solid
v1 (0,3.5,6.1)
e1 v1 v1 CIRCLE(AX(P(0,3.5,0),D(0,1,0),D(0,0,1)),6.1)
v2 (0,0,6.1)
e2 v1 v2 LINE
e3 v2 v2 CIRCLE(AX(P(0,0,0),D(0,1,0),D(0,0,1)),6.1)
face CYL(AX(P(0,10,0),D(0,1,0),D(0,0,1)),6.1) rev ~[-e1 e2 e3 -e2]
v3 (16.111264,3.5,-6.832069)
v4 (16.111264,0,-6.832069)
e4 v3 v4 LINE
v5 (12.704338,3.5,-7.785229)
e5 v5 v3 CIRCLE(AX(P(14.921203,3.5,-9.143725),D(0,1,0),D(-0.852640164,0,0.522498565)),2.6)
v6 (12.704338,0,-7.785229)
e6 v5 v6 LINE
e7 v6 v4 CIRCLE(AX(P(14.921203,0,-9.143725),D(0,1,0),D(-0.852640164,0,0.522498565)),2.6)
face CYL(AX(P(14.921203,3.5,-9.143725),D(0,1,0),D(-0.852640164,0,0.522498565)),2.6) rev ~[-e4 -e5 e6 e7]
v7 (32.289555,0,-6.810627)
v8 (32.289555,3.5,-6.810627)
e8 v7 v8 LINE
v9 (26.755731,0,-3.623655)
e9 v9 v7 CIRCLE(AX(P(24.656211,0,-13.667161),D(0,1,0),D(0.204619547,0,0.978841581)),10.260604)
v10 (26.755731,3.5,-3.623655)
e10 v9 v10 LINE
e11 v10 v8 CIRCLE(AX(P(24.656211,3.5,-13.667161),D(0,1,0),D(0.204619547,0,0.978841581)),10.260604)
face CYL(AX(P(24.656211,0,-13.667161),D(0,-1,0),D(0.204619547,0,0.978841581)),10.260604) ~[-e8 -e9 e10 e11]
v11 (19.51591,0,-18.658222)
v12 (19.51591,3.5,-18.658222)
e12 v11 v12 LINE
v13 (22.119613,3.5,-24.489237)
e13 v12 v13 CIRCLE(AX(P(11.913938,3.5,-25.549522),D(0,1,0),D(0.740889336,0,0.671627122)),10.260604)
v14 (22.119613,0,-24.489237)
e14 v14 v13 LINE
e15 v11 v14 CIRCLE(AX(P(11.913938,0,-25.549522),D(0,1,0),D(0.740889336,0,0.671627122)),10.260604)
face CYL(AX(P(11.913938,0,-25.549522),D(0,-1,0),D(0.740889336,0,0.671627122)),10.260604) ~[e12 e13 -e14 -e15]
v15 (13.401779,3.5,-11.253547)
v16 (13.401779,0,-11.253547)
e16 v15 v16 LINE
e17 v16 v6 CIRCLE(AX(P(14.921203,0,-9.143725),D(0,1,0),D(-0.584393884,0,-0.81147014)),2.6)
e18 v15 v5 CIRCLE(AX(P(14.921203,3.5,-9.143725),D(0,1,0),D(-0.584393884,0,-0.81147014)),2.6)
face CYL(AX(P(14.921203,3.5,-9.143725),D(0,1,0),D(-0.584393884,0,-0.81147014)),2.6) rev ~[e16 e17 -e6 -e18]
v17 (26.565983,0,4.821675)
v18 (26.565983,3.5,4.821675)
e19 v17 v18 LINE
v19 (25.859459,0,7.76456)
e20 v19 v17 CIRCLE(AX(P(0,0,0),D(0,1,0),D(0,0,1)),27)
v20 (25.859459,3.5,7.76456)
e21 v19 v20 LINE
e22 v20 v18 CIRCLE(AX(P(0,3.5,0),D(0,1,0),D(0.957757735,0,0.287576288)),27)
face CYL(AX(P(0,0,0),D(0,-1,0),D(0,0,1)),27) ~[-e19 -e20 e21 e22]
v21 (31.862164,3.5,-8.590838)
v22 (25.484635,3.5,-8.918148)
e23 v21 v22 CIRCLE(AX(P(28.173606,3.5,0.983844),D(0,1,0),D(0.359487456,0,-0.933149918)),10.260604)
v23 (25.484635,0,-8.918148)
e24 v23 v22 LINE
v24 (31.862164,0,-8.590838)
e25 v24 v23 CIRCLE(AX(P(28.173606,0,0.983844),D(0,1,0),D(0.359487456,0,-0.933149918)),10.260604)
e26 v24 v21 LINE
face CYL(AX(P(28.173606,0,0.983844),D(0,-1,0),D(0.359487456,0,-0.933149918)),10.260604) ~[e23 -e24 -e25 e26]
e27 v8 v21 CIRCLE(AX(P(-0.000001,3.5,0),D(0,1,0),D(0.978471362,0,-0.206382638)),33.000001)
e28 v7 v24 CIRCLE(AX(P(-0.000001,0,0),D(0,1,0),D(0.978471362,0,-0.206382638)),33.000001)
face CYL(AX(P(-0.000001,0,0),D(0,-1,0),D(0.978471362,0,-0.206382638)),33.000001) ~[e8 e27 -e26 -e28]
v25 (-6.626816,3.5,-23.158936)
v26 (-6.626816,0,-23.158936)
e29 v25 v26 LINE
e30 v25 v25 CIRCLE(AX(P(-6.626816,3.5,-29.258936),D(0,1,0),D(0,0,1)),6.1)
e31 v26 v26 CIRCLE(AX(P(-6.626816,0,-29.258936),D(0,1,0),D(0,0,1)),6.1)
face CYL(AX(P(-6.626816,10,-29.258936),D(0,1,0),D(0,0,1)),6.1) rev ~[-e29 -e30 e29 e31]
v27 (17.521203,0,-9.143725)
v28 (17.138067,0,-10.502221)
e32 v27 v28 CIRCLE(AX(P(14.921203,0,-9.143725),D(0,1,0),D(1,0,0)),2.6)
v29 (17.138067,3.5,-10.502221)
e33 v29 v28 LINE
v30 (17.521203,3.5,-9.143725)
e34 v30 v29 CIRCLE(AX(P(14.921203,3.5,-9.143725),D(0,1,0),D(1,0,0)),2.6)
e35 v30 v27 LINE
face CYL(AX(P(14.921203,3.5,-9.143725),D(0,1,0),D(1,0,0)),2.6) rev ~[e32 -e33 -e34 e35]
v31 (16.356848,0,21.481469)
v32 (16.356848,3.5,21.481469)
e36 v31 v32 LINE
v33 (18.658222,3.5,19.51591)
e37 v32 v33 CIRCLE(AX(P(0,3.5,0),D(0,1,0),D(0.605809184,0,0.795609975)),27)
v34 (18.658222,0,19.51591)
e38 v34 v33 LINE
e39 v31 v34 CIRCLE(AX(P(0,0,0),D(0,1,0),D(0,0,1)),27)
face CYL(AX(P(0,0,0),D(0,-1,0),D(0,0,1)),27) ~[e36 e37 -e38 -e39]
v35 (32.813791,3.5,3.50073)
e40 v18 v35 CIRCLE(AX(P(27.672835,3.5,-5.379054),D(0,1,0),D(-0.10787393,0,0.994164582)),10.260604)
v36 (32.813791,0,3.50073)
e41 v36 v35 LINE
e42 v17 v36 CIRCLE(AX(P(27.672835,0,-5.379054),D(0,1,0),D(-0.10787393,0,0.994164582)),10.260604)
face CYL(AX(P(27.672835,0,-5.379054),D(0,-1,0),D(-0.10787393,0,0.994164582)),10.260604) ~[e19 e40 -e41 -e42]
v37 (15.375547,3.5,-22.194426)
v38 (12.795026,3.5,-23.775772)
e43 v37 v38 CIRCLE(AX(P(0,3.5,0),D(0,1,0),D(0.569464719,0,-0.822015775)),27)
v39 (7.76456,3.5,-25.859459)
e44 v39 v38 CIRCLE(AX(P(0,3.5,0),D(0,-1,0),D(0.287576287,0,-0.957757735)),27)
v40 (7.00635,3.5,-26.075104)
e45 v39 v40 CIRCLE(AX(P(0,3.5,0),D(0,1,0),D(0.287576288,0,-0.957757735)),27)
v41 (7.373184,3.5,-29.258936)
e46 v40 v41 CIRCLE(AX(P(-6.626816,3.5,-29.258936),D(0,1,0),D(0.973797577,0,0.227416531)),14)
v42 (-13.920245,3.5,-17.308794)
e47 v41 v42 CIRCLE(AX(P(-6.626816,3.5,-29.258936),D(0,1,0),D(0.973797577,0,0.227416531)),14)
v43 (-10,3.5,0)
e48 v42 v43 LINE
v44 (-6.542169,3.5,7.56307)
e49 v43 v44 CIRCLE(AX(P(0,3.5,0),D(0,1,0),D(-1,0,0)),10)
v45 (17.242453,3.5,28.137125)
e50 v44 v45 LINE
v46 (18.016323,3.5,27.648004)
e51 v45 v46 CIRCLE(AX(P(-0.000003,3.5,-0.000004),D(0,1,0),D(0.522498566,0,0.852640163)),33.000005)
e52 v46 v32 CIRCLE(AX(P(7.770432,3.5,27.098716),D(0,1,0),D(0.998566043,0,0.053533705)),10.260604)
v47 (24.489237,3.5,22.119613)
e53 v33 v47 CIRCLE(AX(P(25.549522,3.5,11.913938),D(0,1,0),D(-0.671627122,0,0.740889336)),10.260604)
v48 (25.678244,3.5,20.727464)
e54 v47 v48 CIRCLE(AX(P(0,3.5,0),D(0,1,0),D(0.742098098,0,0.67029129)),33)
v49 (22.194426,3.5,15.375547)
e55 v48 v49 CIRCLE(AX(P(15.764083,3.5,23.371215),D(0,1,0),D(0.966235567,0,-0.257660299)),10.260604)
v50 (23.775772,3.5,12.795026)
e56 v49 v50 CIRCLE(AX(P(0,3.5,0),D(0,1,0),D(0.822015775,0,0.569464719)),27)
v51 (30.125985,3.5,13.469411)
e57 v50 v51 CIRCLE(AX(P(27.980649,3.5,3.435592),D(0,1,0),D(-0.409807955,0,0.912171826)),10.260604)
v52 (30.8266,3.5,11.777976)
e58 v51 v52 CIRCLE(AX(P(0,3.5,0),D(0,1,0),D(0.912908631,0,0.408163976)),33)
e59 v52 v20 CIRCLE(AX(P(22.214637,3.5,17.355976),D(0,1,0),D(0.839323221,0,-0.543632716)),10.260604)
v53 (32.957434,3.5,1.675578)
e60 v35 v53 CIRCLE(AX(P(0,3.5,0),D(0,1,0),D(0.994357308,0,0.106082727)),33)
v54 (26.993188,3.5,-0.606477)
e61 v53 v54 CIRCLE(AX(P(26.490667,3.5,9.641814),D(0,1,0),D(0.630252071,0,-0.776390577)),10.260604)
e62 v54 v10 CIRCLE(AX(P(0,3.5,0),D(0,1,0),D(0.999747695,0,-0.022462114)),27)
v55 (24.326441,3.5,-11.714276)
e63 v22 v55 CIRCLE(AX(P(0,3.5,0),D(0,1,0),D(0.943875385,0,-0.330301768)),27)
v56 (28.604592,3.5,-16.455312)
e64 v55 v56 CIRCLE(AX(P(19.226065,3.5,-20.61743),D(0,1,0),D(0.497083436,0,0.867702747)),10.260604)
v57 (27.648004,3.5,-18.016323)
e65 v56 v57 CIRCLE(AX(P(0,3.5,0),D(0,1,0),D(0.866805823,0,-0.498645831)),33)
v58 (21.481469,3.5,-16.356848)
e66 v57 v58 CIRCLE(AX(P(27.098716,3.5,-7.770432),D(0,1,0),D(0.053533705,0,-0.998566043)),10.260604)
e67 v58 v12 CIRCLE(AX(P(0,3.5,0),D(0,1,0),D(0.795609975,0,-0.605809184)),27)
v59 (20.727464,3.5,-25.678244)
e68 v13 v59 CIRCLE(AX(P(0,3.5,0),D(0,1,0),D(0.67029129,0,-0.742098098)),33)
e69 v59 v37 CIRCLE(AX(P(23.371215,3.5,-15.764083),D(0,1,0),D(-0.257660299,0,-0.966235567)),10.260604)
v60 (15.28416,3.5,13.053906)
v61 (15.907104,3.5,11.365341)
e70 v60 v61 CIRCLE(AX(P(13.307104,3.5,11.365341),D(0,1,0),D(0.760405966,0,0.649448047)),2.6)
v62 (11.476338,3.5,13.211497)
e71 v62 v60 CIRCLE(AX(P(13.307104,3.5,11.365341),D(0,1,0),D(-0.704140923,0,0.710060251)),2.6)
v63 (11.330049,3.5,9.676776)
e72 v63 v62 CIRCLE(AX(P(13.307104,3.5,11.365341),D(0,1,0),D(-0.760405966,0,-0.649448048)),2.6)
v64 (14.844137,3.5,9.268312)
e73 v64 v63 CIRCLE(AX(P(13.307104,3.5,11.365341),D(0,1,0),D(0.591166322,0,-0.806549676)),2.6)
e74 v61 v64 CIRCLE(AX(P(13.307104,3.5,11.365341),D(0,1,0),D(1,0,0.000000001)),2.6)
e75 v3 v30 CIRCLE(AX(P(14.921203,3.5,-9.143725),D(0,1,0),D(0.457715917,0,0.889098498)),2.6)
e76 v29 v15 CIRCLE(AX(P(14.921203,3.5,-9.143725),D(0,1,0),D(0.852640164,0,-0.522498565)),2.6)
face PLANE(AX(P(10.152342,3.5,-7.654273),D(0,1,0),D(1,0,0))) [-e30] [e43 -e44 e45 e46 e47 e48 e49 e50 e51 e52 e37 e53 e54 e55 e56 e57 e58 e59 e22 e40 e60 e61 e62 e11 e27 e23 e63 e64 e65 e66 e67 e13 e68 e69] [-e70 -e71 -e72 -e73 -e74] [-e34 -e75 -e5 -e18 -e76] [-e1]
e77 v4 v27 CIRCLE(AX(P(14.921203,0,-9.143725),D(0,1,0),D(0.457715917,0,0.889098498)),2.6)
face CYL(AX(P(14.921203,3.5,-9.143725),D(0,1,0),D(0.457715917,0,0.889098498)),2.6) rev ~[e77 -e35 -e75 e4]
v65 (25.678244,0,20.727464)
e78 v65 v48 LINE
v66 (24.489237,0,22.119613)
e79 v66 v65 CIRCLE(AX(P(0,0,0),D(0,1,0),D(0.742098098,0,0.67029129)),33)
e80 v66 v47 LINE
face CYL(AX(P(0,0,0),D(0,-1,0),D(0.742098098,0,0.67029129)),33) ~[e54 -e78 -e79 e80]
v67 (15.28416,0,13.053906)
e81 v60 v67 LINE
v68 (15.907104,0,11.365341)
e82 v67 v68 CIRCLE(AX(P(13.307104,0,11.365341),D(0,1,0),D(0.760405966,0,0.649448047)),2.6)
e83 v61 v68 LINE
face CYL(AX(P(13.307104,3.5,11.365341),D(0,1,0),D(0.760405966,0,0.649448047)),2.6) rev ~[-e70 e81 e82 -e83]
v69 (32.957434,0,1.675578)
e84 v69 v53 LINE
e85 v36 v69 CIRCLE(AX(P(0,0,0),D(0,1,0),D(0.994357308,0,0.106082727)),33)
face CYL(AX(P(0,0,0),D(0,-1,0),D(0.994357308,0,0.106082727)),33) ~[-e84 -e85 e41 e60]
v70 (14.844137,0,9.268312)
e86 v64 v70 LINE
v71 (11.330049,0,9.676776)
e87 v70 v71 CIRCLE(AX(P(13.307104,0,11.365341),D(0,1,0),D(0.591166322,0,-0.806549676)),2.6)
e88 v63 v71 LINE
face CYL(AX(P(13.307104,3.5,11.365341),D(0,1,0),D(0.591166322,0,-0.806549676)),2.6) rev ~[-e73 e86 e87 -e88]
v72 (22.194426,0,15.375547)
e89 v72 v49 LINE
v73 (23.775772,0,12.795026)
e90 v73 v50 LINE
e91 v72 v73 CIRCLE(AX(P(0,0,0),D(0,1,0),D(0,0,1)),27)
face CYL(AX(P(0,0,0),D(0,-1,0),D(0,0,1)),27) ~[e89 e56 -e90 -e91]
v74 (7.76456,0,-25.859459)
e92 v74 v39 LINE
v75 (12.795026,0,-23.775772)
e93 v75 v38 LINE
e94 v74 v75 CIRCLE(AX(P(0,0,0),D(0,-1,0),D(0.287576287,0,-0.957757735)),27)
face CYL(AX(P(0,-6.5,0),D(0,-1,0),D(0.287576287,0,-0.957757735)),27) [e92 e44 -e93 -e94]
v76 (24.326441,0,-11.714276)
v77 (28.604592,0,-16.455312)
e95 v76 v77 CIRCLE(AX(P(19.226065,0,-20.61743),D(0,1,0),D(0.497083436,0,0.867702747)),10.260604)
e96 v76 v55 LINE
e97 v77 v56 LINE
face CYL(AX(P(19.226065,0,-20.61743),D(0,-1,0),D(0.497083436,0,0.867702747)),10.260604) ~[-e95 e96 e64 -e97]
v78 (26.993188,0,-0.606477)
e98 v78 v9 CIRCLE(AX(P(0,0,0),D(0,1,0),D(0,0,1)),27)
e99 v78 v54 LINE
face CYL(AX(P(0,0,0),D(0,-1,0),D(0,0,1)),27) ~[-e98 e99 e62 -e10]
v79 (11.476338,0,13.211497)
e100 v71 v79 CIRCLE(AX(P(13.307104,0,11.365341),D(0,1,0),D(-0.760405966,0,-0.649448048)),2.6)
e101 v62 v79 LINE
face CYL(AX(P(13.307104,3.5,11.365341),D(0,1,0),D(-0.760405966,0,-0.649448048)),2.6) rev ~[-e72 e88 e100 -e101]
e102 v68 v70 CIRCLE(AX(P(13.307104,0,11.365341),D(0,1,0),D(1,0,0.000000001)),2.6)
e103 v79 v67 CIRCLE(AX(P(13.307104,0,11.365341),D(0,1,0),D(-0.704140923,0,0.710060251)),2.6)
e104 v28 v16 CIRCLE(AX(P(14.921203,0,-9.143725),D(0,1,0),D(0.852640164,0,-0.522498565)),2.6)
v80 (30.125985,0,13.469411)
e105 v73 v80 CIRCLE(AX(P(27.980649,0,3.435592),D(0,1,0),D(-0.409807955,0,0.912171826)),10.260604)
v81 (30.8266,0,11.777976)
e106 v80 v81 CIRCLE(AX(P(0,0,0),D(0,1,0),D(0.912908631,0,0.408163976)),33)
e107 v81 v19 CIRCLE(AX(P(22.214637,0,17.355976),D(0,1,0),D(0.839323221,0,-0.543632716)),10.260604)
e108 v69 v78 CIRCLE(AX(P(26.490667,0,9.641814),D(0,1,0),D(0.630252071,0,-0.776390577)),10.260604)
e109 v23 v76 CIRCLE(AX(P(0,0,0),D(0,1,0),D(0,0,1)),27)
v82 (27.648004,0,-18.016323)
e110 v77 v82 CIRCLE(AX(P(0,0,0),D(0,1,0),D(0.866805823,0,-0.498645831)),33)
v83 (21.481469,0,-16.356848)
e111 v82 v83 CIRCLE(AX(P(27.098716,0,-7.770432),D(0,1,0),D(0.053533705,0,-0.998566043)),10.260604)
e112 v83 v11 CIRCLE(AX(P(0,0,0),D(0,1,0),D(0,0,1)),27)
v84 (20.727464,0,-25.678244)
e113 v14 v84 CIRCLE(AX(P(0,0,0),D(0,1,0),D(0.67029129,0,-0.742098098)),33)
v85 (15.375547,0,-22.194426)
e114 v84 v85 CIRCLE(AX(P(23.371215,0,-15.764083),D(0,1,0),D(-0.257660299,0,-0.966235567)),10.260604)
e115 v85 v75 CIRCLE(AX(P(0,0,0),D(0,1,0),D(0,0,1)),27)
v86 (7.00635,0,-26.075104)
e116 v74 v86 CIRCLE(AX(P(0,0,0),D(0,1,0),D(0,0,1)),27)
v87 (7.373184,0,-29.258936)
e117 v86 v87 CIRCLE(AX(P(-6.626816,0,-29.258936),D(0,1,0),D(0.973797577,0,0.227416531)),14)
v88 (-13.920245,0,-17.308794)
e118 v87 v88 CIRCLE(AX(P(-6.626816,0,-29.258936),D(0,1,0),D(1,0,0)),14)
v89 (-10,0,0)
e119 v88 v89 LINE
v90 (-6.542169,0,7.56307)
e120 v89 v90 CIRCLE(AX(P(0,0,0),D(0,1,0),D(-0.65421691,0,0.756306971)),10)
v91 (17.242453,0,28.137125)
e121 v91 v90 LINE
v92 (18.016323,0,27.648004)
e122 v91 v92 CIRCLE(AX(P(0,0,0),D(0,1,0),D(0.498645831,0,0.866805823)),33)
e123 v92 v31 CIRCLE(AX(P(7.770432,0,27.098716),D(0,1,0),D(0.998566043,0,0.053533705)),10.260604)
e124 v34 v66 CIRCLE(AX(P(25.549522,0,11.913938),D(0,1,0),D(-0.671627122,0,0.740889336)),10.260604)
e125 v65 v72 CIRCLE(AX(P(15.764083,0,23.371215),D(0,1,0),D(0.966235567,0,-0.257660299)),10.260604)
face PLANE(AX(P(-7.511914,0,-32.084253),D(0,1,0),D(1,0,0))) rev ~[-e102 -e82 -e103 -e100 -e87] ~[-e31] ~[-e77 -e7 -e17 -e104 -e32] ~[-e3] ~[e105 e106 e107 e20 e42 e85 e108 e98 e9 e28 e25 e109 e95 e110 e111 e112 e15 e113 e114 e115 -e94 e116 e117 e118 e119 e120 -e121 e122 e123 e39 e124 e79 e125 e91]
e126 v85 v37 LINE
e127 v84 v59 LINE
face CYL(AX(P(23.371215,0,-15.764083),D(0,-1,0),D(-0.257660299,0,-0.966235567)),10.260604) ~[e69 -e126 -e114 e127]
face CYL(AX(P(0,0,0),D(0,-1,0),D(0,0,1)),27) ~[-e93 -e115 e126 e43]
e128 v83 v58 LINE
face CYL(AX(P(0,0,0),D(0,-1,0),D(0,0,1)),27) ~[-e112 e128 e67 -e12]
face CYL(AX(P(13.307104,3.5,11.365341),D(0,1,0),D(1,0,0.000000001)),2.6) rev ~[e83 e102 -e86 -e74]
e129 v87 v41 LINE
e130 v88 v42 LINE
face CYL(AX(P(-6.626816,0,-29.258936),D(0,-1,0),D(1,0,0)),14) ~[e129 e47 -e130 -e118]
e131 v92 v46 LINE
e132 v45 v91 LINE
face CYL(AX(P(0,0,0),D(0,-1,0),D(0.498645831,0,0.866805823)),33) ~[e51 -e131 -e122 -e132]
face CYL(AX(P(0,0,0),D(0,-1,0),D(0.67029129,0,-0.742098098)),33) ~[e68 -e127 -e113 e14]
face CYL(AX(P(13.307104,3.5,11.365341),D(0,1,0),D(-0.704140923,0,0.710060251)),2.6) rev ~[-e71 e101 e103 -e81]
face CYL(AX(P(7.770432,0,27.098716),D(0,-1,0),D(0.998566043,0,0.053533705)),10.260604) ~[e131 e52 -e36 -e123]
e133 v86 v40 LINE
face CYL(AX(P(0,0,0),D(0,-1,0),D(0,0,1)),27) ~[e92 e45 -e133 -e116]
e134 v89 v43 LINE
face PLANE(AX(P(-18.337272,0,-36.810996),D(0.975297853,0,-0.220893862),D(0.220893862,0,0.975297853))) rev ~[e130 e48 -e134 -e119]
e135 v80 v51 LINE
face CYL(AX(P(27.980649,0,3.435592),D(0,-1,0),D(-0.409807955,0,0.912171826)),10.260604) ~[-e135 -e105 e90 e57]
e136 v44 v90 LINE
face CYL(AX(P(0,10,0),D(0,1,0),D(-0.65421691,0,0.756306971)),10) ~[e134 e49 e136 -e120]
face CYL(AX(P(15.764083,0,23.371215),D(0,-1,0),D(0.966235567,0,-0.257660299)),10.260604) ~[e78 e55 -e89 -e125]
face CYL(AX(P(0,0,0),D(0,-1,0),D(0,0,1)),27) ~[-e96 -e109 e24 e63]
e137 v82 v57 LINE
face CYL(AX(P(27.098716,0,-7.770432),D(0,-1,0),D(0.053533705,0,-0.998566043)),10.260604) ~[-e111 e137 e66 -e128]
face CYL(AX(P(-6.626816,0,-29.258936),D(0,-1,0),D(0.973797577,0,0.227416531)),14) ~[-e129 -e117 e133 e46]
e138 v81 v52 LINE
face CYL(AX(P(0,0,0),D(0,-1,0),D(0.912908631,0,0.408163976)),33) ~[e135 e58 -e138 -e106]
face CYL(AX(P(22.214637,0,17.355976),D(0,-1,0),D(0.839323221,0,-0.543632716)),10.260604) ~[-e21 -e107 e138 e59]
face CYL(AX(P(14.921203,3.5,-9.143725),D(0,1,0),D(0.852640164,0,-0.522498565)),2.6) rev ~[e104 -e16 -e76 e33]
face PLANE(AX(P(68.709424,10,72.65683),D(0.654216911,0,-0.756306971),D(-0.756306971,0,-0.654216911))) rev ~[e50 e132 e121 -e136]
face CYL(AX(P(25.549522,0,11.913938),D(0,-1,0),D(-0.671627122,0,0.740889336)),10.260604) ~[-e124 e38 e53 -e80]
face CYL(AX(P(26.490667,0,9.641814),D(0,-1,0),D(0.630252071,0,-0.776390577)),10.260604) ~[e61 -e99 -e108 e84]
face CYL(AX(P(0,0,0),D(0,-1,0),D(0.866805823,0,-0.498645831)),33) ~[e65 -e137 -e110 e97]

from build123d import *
from build123d.topology import SkipClean

# Parameters (mm, degrees)
SKETCH_1_R           = 27
EXTRUDE_2_DEPTH      = 10
EXTRUDE_START        = -10
EXTRUDE_3_DEPTH      = 10
CUT_EXTRUDE_2_DEPTH  = 48.669538272
SKETCH_6_R           = 6.1
CUT_EXTRUDE_3_DEPTH  = 10
EXTRUDE_5_DEPTH      = 10
SKETCH_10_R          = 6.1
CUT_EXTRUDE_5_DEPTH  = 10
CUT_EXTRUDE_START    = -10
CUT_EXTRUDE_6_DEPTH  = 10
FILLET_1_R           = 10
EXTRUDE_7_DEPTH      = 10
CUT_EXTRUDE_START_2  = -6.5
CUT_EXTRUDE_8_DEPTH  = 6.5
CUT_EXTRUDE_9_DEPTH  = 10
CUT_EXTRUDE_10_DEPTH = 10


with BuildPart() as part:
    # 草图1 → 凸台-拉伸2 (new body)
    with BuildSketch(Plane(origin=(0, 0, 0), x_dir=(1, 0, 0), z_dir=(0, 1, 0))):
        with Locations(Location((0, 0, 0), (0, 0, 270))):
            Circle(SKETCH_1_R)
    extrude(amount=EXTRUDE_2_DEPTH)

    # 草图3 → 凸台-拉伸3 (add)
    with BuildSketch(Plane(origin=(0, 10, 0), x_dir=(1, 0, 0), z_dir=(0, 1, 0)).offset(EXTRUDE_START)):
        with BuildLine():
            ThreePointArc((-3.623654542, 26.755730746), (-4.775668185, 29.776890365), (-6.810627033, 32.289554959))
            ThreePointArc((-6.810627033, 32.289554959), (-7.703697007, 32.088207373), (-8.590838072, 31.862164101))
            ThreePointArc((-8.590838072, 31.862164101), (-9.263273827, 28.699511571), (-8.918147734, 25.484635391))
            ThreePointArc((-8.918147734, 25.484635391), (-6.303024824, 26.253987851), (-3.623654542, 26.755730746))
        make_face()
        with BuildLine():
            ThreePointArc((-11.714275763, 24.326441239), (-13.743495509, 26.843742988), (-16.455312443, 28.604592156))
            ThreePointArc((-16.455312443, 28.604592156), (-17.242452636, 28.137125424), (-18.016322714, 27.648003832))
            ThreePointArc((-18.016322714, 27.648003832), (-17.678533741, 24.432348458), (-16.356847947, 21.481469346))
            ThreePointArc((-16.356847947, 21.481469346), (-14.107461247, 23.021284438), (-11.714275763, 24.326441239))
        make_face()
        with BuildLine():
            ThreePointArc((-18.658222053, 19.515910171), (-21.366013737, 21.282943016), (-24.48923722, 22.119612574))
            ThreePointArc((-24.48923722, 22.119612574), (-25.093396865, 21.431785595), (-25.678244161, 20.727464312))
            ThreePointArc((-25.678244161, 20.727464312), (-24.363295599, 17.773576848), (-22.194425918, 15.375547411))
            ThreePointArc((-22.194425918, 15.375547411), (-20.530961071, 17.535097305), (-18.658222053, 19.515910171))
        make_face()
        with BuildLine():
            ThreePointArc((-23.77577157, 12.79502584), (-26.897077674, 13.638820294), (-30.125984831, 13.469411196))
            ThreePointArc((-30.125984831, 13.469411196), (-30.488024573, 12.628553268), (-30.826600159, 11.777976169))
            ThreePointArc((-30.826600159, 11.777976169), (-28.663208335, 9.3750037), (-25.859458842, 7.764559768))
            ThreePointArc((-25.859458842, 7.764559768), (-24.944747378, 10.332452674), (-23.77577157, 12.79502584))
        make_face()
        with BuildLine():
            ThreePointArc((-26.56598291, 4.821675232), (-29.795268245, 4.659634815), (-32.813791147, 3.500730003))
            ThreePointArc((-32.813791147, 3.500730003), (-32.898272013, 2.589150159), (-32.957433752, 1.675577656))
            ThreePointArc((-32.957433752, 1.675577656), (-30.15736653, 0.05873987), (-26.993187762, -0.606477084))
            ThreePointArc((-26.993187762, -0.606477084), (-26.916768011, 2.118395585), (-26.56598291, 4.821675232))
        make_face()
        with BuildLine():
            ThreePointArc((-32.289554959, -6.810627033), (-32.088207373, -7.703697007), (-31.862164101, -8.590838072))
            ThreePointArc((-31.862164101, -8.590838072), (-28.699511571, -9.263273827), (-25.484635391, -8.918147734))
            ThreePointArc((-25.484635391, -8.918147734), (-26.253987851, -6.303024824), (-26.755730746, -3.623654542))
            ThreePointArc((-26.755730746, -3.623654542), (-29.776890365, -4.775668185), (-32.289554959, -6.810627033))
        make_face()
        with BuildLine():
            ThreePointArc((-28.604592156, -16.455312443), (-28.137125424, -17.242452636), (-27.648003832, -18.016322714))
            ThreePointArc((-27.648003832, -18.016322714), (-24.432348458, -17.678533741), (-21.481469346, -16.356847947))
            ThreePointArc((-21.481469346, -16.356847947), (-23.021284438, -14.107461247), (-24.326441239, -11.714275763))
            ThreePointArc((-24.326441239, -11.714275763), (-26.843742988, -13.743495509), (-28.604592156, -16.455312443))
        make_face()
        with BuildLine():
            ThreePointArc((-22.119612574, -24.48923722), (-21.431785595, -25.093396865), (-20.727464312, -25.678244161))
            ThreePointArc((-20.727464312, -25.678244161), (-17.773576848, -24.363295599), (-15.375547411, -22.194425918))
            ThreePointArc((-15.375547411, -22.194425918), (-17.535097305, -20.530961071), (-19.515910171, -18.658222053))
            ThreePointArc((-19.515910171, -18.658222053), (-21.282943016, -21.366013737), (-22.119612574, -24.48923722))
        make_face()
        with BuildLine():
            ThreePointArc((-13.469411196, -30.125984831), (-12.628553268, -30.488024573), (-11.777976169, -30.826600159))
            ThreePointArc((-11.777976169, -30.826600159), (-9.3750037, -28.663208335), (-7.764559768, -25.859458842))
            ThreePointArc((-7.764559768, -25.859458842), (-10.332452674, -24.944747378), (-12.79502584, -23.77577157))
            ThreePointArc((-12.79502584, -23.77577157), (-13.638820294, -26.897077674), (-13.469411196, -30.125984831))
        make_face()
        with BuildLine():
            ThreePointArc((-3.500730003, -32.813791147), (-2.589150159, -32.898272013), (-1.675577656, -32.957433752))
            ThreePointArc((-1.675577656, -32.957433752), (-0.05873987, -30.15736653), (0.606477084, -26.993187762))
            ThreePointArc((0.606477084, -26.993187762), (-2.118395585, -26.916768011), (-4.821675232, -26.56598291))
            ThreePointArc((-4.821675232, -26.56598291), (-4.659634815, -29.795268245), (-3.500730003, -32.813791147))
        make_face()
        with BuildLine():
            ThreePointArc((6.810627033, -32.289554959), (7.703697007, -32.088207373), (8.590838072, -31.862164101))
            ThreePointArc((8.590838072, -31.862164101), (9.263273827, -28.699511571), (8.918147734, -25.484635391))
            ThreePointArc((8.918147734, -25.484635391), (6.303024824, -26.253987851), (3.623654542, -26.755730746))
            ThreePointArc((3.623654542, -26.755730746), (4.775668185, -29.776890365), (6.810627033, -32.289554959))
        make_face()
        with BuildLine():
            ThreePointArc((16.455312443, -28.604592156), (17.242452636, -28.137125424), (18.016322714, -27.648003832))
            ThreePointArc((18.016322714, -27.648003832), (17.678533741, -24.432348458), (16.356847947, -21.481469346))
            ThreePointArc((16.356847947, -21.481469346), (14.107461247, -23.021284438), (11.714275763, -24.326441239))
            ThreePointArc((11.714275763, -24.326441239), (13.743495509, -26.843742988), (16.455312443, -28.604592156))
        make_face()
        with BuildLine():
            ThreePointArc((24.48923722, -22.119612574), (25.093396865, -21.431785595), (25.678244161, -20.727464312))
            ThreePointArc((25.678244161, -20.727464312), (24.363295599, -17.773576848), (22.194425918, -15.375547411))
            ThreePointArc((22.194425918, -15.375547411), (20.530961071, -17.535097305), (18.658222053, -19.515910171))
            ThreePointArc((18.658222053, -19.515910171), (21.366013737, -21.282943016), (24.48923722, -22.119612574))
        make_face()
        with BuildLine():
            ThreePointArc((30.125984831, -13.469411196), (30.488024573, -12.628553268), (30.826600159, -11.777976169))
            ThreePointArc((30.826600159, -11.777976169), (28.663208335, -9.3750037), (25.859458842, -7.764559768))
            ThreePointArc((25.859458842, -7.764559768), (24.944747378, -10.332452674), (23.77577157, -12.79502584))
            ThreePointArc((23.77577157, -12.79502584), (26.897077674, -13.638820294), (30.125984831, -13.469411196))
        make_face()
        with BuildLine():
            ThreePointArc((32.813791147, -3.500730003), (32.898272013, -2.589150159), (32.957433752, -1.675577656))
            ThreePointArc((32.957433752, -1.675577656), (30.15736653, -0.05873987), (26.993187762, 0.606477084))
            ThreePointArc((26.993187762, 0.606477084), (26.998296887, 0.303257671), (27, 0))
            ThreePointArc((27, 0), (26.891276825, -2.420584789), (26.56598291, -4.821675232))
            ThreePointArc((26.56598291, -4.821675232), (29.795268245, -4.659634815), (32.813791147, -3.500730003))
        make_face()
        with BuildLine():
            ThreePointArc((26.755730746, 3.623654542), (29.776890365, 4.775668185), (32.289554959, 6.810627033))
            ThreePointArc((32.289554959, 6.810627033), (32.088207373, 7.703697007), (31.862164101, 8.590838072))
            ThreePointArc((31.862164101, 8.590838072), (28.699511571, 9.263273827), (25.484635391, 8.918147734))
            ThreePointArc((25.484635391, 8.918147734), (26.253987851, 6.303024824), (26.755730746, 3.623654542))
        make_face()
        with BuildLine():
            ThreePointArc((24.326441239, 11.714275763), (26.843742988, 13.743495509), (28.604592156, 16.455312443))
            ThreePointArc((28.604592156, 16.455312443), (28.137125424, 17.242452636), (27.648003832, 18.016322714))
            ThreePointArc((27.648003832, 18.016322714), (24.432348458, 17.678533741), (21.481469346, 16.356847947))
            ThreePointArc((21.481469346, 16.356847947), (23.021284438, 14.107461247), (24.326441239, 11.714275763))
        make_face()
        with BuildLine():
            ThreePointArc((19.515910171, 18.658222053), (21.282943016, 21.366013737), (22.119612574, 24.48923722))
            ThreePointArc((22.119612574, 24.48923722), (21.431785595, 25.093396865), (20.727464312, 25.678244161))
            ThreePointArc((20.727464312, 25.678244161), (17.773576848, 24.363295599), (15.375547411, 22.194425918))
            ThreePointArc((15.375547411, 22.194425918), (17.535097305, 20.530961071), (19.515910171, 18.658222053))
        make_face()
        with BuildLine():
            ThreePointArc((12.79502584, 23.77577157), (13.638820294, 26.897077674), (13.469411196, 30.125984831))
            ThreePointArc((13.469411196, 30.125984831), (12.628553268, 30.488024573), (11.777976169, 30.826600159))
            ThreePointArc((11.777976169, 30.826600159), (9.3750037, 28.663208335), (7.764559768, 25.859458842))
            ThreePointArc((7.764559768, 25.859458842), (10.332452674, 24.944747378), (12.79502584, 23.77577157))
        make_face()
        with BuildLine():
            ThreePointArc((4.821675232, 26.56598291), (4.659634815, 29.795268245), (3.500730003, 32.813791147))
            ThreePointArc((3.500730003, 32.813791147), (2.589150159, 32.898272013), (1.675577656, 32.957433752))
            ThreePointArc((1.675577656, 32.957433752), (0.05873987, 30.15736653), (-0.606477084, 26.993187762))
            ThreePointArc((-0.606477084, 26.993187762), (2.118395585, 26.916768011), (4.821675232, 26.56598291))
        make_face()
    extrude(amount=EXTRUDE_3_DEPTH)

    # 草图4 → 切除-拉伸2 (cut, through all)
    with BuildSketch(Plane(origin=(0, 10, 0), x_dir=(1, 0, 0), z_dir=(0, 1, 0))):
        with BuildLine():
            Line((68.70942434, -72.656830422), (-6.542169106, -7.563069707))
            ThreePointArc((-6.542169106, -7.563069707), (-9.614988938, -2.748088014), (-9.550796477, 2.963492306))
            Line((-9.550796477, 2.963492306), (-2.118395585, 26.916768011))
            Line((-2.118395585, 26.916768011), (19.935579671, 97.992717399))
            ThreePointArc((19.935579671, 97.992717399), (-96.149889375, -27.480880138), (68.70942434, -72.656830422))
        make_face()
    extrude(amount=-CUT_EXTRUDE_2_DEPTH, mode=Mode.SUBTRACT)

    # 草图6 → 切除-拉伸3 (cut)
    with BuildSketch(Plane(origin=(0, 10, 0), x_dir=(1, 0, 0), z_dir=(0, 1, 0))):
        with Locations(Location((0, 0, 0), (0, 0, 270))):
            Circle(SKETCH_6_R)
    extrude(amount=-CUT_EXTRUDE_3_DEPTH, mode=Mode.SUBTRACT)

    # 草图9 → 凸台-拉伸5 (add)
    with BuildSketch(Plane(origin=(0, 10, 0), x_dir=(1, 0, 0), z_dir=(0, 1, 0)).offset(EXTRUDE_START)):
        with BuildLine():
            Line((-18.337271569, 36.810995995), (-10, 0))
            ThreePointArc((-10, 0), (-9.887061363, 1.49867195), (-9.550796477, 2.963492306))
            Line((-9.550796477, 2.963492306), (-2.118395585, 26.916768011))
            ThreePointArc((-2.118395585, 26.916768011), (-1.362972032, 26.965576338), (-0.606477084, 26.993187762))
            ThreePointArc((-0.606477084, 26.993187762), (0.05873987, 30.15736653), (1.675577656, 32.957433752))
            ThreePointArc((1.675577656, 32.957433752), (2.589150159, 32.898272013), (3.500730003, 32.813791147))
            ThreePointArc((3.500730003, 32.813791147), (4.659634815, 29.795268245), (4.821675232, 26.56598291))
            Line((4.821675232, 26.56598291), (7.168022985, 33.612773021))
            ThreePointArc((7.168022985, 33.612773021), (-5.303969741, 37.450057719), (-18.337271569, 36.810995995))
        make_face()
    extrude(amount=EXTRUDE_5_DEPTH)

    # 草图10 → 切除-拉伸5 (cut)
    with BuildSketch(Plane(origin=(0, 10, 0), x_dir=(1, 0, 0), z_dir=(0, 1, 0))):
        with Locations(Location((-6.626815852, 29.258935587, 0), (0, 0, 270))):
            Circle(SKETCH_10_R)
    extrude(amount=-CUT_EXTRUDE_5_DEPTH, mode=Mode.SUBTRACT)

    # 草图11 → 切除-拉伸6 (cut)
    with BuildSketch(Plane(origin=(0, 10, 0), x_dir=(1, 0, 0), z_dir=(0, 1, 0)).offset(CUT_EXTRUDE_START)):
        with BuildLine():
            Line((0, 36.394498532), (3.500730003, 32.813791147))
            ThreePointArc((3.500730003, 32.813791147), (4.659634815, 29.795268245), (4.821675232, 26.56598291))
            Line((4.821675232, 26.56598291), (7.168022985, 33.612773021))
            ThreePointArc((7.168022985, 33.612773021), (3.655030847, 35.186640305), (0, 36.394498532))
        make_face()
    extrude(amount=CUT_EXTRUDE_6_DEPTH, mode=Mode.SUBTRACT)

    # 圆角1
    fillet_1_edges = [part.edges().sort_by_distance(p)[0] for p in [
        (-18.337271569, 5, -36.810995995),
    ]]
    fillet(fillet_1_edges, radius=FILLET_1_R)

    # 草图16 → 凸台-拉伸7 (add)
    with BuildSketch(Plane(origin=(0, 10, 0), x_dir=(1, 0, 0), z_dir=(0, 1, 0)).offset(EXTRUDE_START)):
        with BuildLine():
            Line((-13.920244702, 17.308793512), (-15.716384779, 25.239170332))
            ThreePointArc((-15.716384779, 25.239170332), (-13.300434171, 34.242814336), (-4.508428545, 37.341694744))
            ThreePointArc((-4.508428545, 37.341694744), (-2.23974925, 36.936946702), (0, 36.394498532))
            Line((0, 36.394498532), (3.500730003, 32.813791147))
            ThreePointArc((3.500730003, 32.813791147), (4.659634815, 29.795268245), (4.821675232, 26.56598291))
            ThreePointArc((4.821675232, 26.56598291), (5.919103569, 26.343200507), (7.006350229, 26.075104151))
            ThreePointArc((7.006350229, 26.075104151), (7.281173311, 27.65648826), (7.373184148, 29.258935587))
            ThreePointArc((7.373184148, 29.258935587), (-13.478530824, 41.467703008), (-13.920244702, 17.308793512))
        make_face()
    extrude(amount=EXTRUDE_7_DEPTH)

    # 草图17 → 切除-拉伸8 (cut)
    with BuildSketch(Plane(origin=(0, 10, 0), x_dir=(1, 0, 0), z_dir=(0, 1, 0)).offset(CUT_EXTRUDE_START_2)):
        with BuildLine():
            Line((-13.920244702, 17.308793512), (-10, 0))
            ThreePointArc((-10, 0), (-9.09455032, -4.158022904), (-6.542169106, -7.563069707))
            Line((-6.542169106, -7.563069707), (17.242452636, -28.137125424))
            ThreePointArc((17.242452636, -28.137125424), (17.631083908, -27.895248345), (18.016322714, -27.648003832))
            ThreePointArc((18.016322714, -27.648003832), (17.678533741, -24.432348458), (16.356847947, -21.481469346))
            ThreePointArc((16.356847947, -21.481469346), (17.535097305, -20.530961071), (18.658222053, -19.515910171))
            ThreePointArc((18.658222053, -19.515910171), (21.366013737, -21.282943016), (24.48923722, -22.119612574))
            ThreePointArc((24.48923722, -22.119612574), (25.093396865, -21.431785595), (25.678244161, -20.727464312))
            ThreePointArc((25.678244161, -20.727464312), (24.363295599, -17.773576848), (22.194425918, -15.375547411))
            ThreePointArc((22.194425918, -15.375547411), (23.021284438, -14.107461247), (23.77577157, -12.79502584))
            ThreePointArc((23.77577157, -12.79502584), (26.897077674, -13.638820294), (30.125984831, -13.469411196))
            ThreePointArc((30.125984831, -13.469411196), (30.488024573, -12.628553268), (30.826600159, -11.777976169))
            ThreePointArc((30.826600159, -11.777976169), (28.663208335, -9.3750037), (25.859458842, -7.764559768))
            ThreePointArc((25.859458842, -7.764559768), (26.253987851, -6.303024824), (26.56598291, -4.821675232))
            ThreePointArc((26.56598291, -4.821675232), (29.795268245, -4.659634815), (32.813791147, -3.500730003))
            ThreePointArc((32.813791147, -3.500730003), (32.898272013, -2.589150159), (32.957433752, -1.675577656))
            ThreePointArc((32.957433752, -1.675577656), (30.15736653, -0.05873987), (26.993187762, 0.606477084))
            ThreePointArc((26.993187762, 0.606477084), (26.916768011, 2.118395585), (26.755730746, 3.623654542))
            ThreePointArc((26.755730746, 3.623654542), (29.776890365, 4.775668185), (32.289554959, 6.810627033))
            ThreePointArc((32.289554959, 6.810627033), (32.088207373, 7.703697007), (31.862164101, 8.590838072))
            ThreePointArc((31.862164101, 8.590838072), (28.699511571, 9.263273827), (25.484635391, 8.918147734))
            ThreePointArc((25.484635391, 8.918147734), (24.944747378, 10.332452674), (24.326441239, 11.714275763))
            ThreePointArc((24.326441239, 11.714275763), (26.843742988, 13.743495509), (28.604592156, 16.455312443))
            ThreePointArc((28.604592156, 16.455312443), (28.137125424, 17.242452636), (27.648003832, 18.016322714))
            ThreePointArc((27.648003832, 18.016322714), (24.432348458, 17.678533741), (21.481469346, 16.356847947))
            ThreePointArc((21.481469346, 16.356847947), (20.530961071, 17.535097305), (19.515910171, 18.658222053))
            ThreePointArc((19.515910171, 18.658222053), (21.282943016, 21.366013737), (22.119612574, 24.48923722))
            ThreePointArc((22.119612574, 24.48923722), (21.431785595, 25.093396865), (20.727464312, 25.678244161))
            ThreePointArc((20.727464312, 25.678244161), (17.773576848, 24.363295599), (15.375547411, 22.194425918))
            ThreePointArc((15.375547411, 22.194425918), (14.107461247, 23.021284438), (12.79502584, 23.77577157))
            ThreePointArc((12.79502584, 23.77577157), (13.638820294, 26.897077674), (13.469411196, 30.125984831))
            ThreePointArc((13.469411196, 30.125984831), (12.628553268, 30.488024573), (11.777976169, 30.826600159))
            ThreePointArc((11.777976169, 30.826600159), (9.3750037, 28.663208335), (7.764559768, 25.859458842))
            ThreePointArc((7.764559768, 25.859458842), (7.386242025, 25.970048686), (7.006350229, 26.075104151))
            ThreePointArc((7.006350229, 26.075104151), (-12.036078056, 42.171715396), (-13.920244702, 17.308793512))
        make_face()
    extrude(amount=CUT_EXTRUDE_8_DEPTH, mode=Mode.SUBTRACT)

    # 草图19 → 切除-拉伸9 (cut)
    with BuildSketch(Plane(origin=(0, 3.5, 0), x_dir=(1, 0, 0), z_dir=(0, 1, 0))):
        with BuildLine():
            ThreePointArc((17.521202876, 9.143724883), (17.423586491, 9.849470052), (17.138067304, 10.502221151))
            Line((17.138067304, 10.502221151), (14.921202876, 9.143724883))
            ThreePointArc((14.921202876, 9.143724883), (15.559223715, 8.01002855), (16.111264261, 6.832068788))
            ThreePointArc((16.111264261, 6.832068788), (17.140905514, 7.78987105), (17.521202876, 9.143724883))
        make_face()
        with BuildLine():
            Line((14.921202876, 9.143724883), (17.138067304, 10.502221151))
            ThreePointArc((17.138067304, 10.502221151), (15.433773338, 11.692699485), (13.401778777, 11.253547246))
            ThreePointArc((13.401778777, 11.253547246), (14.200727447, 10.226892977), (14.921202876, 9.143724883))
        make_face()
        with BuildLine():
            ThreePointArc((16.111264261, 6.832068788), (15.559223715, 8.01002855), (14.921202876, 9.143724883))
            Line((14.921202876, 9.143724883), (12.704338449, 7.785228614))
            ThreePointArc((12.704338449, 7.785228614), (14.220696248, 6.639869762), (16.111264261, 6.832068788))
        make_face()
        with BuildLine():
            Line((12.704338449, 7.785228614), (14.921202876, 9.143724883))
            ThreePointArc((14.921202876, 9.143724883), (14.200727447, 10.226892977), (13.401778777, 11.253547246))
            ThreePointArc((13.401778777, 11.253547246), (12.372228274, 9.656295344), (12.704338449, 7.785228614))
        make_face()
        with BuildLine():
            ThreePointArc((11.330048887, -9.67677592), (10.709328217, -11.472853236), (11.476337998, -13.211497499))
            ThreePointArc((11.476337998, -13.211497499), (12.426054396, -12.322466156), (13.307104398, -11.365340846))
            Line((13.307104398, -11.365340846), (11.330048887, -9.67677592))
        make_face()
        with BuildLine():
            ThreePointArc((13.307104398, -11.365340846), (12.426054396, -12.322466156), (11.476337998, -13.211497499))
            ThreePointArc((11.476337998, -13.211497499), (13.414616788, -13.963117027), (15.284159909, -13.053905771))
            Line((15.284159909, -13.053905771), (13.307104398, -11.365340846))
        make_face()
        with BuildLine():
            ThreePointArc((14.844136837, -9.268311689), (13.006911405, -8.782728957), (11.330048887, -9.67677592))
            Line((11.330048887, -9.67677592), (13.307104398, -11.365340846))
            ThreePointArc((13.307104398, -11.365340846), (14.114619321, -10.345410645), (14.844136837, -9.268311689))
        make_face()
        with BuildLine():
            ThreePointArc((15.907104398, -11.365340846), (15.626186581, -10.189816354), (14.844136837, -9.268311689))
            ThreePointArc((14.844136837, -9.268311689), (14.114619321, -10.345410645), (13.307104398, -11.365340846))
            Line((13.307104398, -11.365340846), (15.284159909, -13.053905771))
            ThreePointArc((15.284159909, -13.053905771), (15.746401871, -12.265245194), (15.907104398, -11.365340846))
        make_face()
    extrude(amount=-CUT_EXTRUDE_9_DEPTH, mode=Mode.SUBTRACT)

    # 草图20 → 切除-拉伸10 (cut)
    with SkipClean():  # the faces are left unmerged after this step: merging them gives an invalid solid
        with BuildSketch(Plane(origin=(0, 3.5, 0), x_dir=(1, 0, 0), z_dir=(0, 1, 0)).offset(CUT_EXTRUDE_START)):
            with BuildLine():
                ThreePointArc((11.777976169, 30.826600159), (9.3750037, 28.663208335), (7.764559768, 25.859458842))
                ThreePointArc((7.764559768, 25.859458842), (10.332452674, 24.944747378), (12.79502584, 23.77577157))
                ThreePointArc((12.79502584, 23.77577157), (13.638820294, 26.897077674), (13.469411196, 30.125984831))
                ThreePointArc((13.469411196, 30.125984831), (12.628553268, 30.488024573), (11.777976169, 30.826600159))
            make_face()
        extrude(amount=CUT_EXTRUDE_10_DEPTH, mode=Mode.SUBTRACT)


solid = part.part
